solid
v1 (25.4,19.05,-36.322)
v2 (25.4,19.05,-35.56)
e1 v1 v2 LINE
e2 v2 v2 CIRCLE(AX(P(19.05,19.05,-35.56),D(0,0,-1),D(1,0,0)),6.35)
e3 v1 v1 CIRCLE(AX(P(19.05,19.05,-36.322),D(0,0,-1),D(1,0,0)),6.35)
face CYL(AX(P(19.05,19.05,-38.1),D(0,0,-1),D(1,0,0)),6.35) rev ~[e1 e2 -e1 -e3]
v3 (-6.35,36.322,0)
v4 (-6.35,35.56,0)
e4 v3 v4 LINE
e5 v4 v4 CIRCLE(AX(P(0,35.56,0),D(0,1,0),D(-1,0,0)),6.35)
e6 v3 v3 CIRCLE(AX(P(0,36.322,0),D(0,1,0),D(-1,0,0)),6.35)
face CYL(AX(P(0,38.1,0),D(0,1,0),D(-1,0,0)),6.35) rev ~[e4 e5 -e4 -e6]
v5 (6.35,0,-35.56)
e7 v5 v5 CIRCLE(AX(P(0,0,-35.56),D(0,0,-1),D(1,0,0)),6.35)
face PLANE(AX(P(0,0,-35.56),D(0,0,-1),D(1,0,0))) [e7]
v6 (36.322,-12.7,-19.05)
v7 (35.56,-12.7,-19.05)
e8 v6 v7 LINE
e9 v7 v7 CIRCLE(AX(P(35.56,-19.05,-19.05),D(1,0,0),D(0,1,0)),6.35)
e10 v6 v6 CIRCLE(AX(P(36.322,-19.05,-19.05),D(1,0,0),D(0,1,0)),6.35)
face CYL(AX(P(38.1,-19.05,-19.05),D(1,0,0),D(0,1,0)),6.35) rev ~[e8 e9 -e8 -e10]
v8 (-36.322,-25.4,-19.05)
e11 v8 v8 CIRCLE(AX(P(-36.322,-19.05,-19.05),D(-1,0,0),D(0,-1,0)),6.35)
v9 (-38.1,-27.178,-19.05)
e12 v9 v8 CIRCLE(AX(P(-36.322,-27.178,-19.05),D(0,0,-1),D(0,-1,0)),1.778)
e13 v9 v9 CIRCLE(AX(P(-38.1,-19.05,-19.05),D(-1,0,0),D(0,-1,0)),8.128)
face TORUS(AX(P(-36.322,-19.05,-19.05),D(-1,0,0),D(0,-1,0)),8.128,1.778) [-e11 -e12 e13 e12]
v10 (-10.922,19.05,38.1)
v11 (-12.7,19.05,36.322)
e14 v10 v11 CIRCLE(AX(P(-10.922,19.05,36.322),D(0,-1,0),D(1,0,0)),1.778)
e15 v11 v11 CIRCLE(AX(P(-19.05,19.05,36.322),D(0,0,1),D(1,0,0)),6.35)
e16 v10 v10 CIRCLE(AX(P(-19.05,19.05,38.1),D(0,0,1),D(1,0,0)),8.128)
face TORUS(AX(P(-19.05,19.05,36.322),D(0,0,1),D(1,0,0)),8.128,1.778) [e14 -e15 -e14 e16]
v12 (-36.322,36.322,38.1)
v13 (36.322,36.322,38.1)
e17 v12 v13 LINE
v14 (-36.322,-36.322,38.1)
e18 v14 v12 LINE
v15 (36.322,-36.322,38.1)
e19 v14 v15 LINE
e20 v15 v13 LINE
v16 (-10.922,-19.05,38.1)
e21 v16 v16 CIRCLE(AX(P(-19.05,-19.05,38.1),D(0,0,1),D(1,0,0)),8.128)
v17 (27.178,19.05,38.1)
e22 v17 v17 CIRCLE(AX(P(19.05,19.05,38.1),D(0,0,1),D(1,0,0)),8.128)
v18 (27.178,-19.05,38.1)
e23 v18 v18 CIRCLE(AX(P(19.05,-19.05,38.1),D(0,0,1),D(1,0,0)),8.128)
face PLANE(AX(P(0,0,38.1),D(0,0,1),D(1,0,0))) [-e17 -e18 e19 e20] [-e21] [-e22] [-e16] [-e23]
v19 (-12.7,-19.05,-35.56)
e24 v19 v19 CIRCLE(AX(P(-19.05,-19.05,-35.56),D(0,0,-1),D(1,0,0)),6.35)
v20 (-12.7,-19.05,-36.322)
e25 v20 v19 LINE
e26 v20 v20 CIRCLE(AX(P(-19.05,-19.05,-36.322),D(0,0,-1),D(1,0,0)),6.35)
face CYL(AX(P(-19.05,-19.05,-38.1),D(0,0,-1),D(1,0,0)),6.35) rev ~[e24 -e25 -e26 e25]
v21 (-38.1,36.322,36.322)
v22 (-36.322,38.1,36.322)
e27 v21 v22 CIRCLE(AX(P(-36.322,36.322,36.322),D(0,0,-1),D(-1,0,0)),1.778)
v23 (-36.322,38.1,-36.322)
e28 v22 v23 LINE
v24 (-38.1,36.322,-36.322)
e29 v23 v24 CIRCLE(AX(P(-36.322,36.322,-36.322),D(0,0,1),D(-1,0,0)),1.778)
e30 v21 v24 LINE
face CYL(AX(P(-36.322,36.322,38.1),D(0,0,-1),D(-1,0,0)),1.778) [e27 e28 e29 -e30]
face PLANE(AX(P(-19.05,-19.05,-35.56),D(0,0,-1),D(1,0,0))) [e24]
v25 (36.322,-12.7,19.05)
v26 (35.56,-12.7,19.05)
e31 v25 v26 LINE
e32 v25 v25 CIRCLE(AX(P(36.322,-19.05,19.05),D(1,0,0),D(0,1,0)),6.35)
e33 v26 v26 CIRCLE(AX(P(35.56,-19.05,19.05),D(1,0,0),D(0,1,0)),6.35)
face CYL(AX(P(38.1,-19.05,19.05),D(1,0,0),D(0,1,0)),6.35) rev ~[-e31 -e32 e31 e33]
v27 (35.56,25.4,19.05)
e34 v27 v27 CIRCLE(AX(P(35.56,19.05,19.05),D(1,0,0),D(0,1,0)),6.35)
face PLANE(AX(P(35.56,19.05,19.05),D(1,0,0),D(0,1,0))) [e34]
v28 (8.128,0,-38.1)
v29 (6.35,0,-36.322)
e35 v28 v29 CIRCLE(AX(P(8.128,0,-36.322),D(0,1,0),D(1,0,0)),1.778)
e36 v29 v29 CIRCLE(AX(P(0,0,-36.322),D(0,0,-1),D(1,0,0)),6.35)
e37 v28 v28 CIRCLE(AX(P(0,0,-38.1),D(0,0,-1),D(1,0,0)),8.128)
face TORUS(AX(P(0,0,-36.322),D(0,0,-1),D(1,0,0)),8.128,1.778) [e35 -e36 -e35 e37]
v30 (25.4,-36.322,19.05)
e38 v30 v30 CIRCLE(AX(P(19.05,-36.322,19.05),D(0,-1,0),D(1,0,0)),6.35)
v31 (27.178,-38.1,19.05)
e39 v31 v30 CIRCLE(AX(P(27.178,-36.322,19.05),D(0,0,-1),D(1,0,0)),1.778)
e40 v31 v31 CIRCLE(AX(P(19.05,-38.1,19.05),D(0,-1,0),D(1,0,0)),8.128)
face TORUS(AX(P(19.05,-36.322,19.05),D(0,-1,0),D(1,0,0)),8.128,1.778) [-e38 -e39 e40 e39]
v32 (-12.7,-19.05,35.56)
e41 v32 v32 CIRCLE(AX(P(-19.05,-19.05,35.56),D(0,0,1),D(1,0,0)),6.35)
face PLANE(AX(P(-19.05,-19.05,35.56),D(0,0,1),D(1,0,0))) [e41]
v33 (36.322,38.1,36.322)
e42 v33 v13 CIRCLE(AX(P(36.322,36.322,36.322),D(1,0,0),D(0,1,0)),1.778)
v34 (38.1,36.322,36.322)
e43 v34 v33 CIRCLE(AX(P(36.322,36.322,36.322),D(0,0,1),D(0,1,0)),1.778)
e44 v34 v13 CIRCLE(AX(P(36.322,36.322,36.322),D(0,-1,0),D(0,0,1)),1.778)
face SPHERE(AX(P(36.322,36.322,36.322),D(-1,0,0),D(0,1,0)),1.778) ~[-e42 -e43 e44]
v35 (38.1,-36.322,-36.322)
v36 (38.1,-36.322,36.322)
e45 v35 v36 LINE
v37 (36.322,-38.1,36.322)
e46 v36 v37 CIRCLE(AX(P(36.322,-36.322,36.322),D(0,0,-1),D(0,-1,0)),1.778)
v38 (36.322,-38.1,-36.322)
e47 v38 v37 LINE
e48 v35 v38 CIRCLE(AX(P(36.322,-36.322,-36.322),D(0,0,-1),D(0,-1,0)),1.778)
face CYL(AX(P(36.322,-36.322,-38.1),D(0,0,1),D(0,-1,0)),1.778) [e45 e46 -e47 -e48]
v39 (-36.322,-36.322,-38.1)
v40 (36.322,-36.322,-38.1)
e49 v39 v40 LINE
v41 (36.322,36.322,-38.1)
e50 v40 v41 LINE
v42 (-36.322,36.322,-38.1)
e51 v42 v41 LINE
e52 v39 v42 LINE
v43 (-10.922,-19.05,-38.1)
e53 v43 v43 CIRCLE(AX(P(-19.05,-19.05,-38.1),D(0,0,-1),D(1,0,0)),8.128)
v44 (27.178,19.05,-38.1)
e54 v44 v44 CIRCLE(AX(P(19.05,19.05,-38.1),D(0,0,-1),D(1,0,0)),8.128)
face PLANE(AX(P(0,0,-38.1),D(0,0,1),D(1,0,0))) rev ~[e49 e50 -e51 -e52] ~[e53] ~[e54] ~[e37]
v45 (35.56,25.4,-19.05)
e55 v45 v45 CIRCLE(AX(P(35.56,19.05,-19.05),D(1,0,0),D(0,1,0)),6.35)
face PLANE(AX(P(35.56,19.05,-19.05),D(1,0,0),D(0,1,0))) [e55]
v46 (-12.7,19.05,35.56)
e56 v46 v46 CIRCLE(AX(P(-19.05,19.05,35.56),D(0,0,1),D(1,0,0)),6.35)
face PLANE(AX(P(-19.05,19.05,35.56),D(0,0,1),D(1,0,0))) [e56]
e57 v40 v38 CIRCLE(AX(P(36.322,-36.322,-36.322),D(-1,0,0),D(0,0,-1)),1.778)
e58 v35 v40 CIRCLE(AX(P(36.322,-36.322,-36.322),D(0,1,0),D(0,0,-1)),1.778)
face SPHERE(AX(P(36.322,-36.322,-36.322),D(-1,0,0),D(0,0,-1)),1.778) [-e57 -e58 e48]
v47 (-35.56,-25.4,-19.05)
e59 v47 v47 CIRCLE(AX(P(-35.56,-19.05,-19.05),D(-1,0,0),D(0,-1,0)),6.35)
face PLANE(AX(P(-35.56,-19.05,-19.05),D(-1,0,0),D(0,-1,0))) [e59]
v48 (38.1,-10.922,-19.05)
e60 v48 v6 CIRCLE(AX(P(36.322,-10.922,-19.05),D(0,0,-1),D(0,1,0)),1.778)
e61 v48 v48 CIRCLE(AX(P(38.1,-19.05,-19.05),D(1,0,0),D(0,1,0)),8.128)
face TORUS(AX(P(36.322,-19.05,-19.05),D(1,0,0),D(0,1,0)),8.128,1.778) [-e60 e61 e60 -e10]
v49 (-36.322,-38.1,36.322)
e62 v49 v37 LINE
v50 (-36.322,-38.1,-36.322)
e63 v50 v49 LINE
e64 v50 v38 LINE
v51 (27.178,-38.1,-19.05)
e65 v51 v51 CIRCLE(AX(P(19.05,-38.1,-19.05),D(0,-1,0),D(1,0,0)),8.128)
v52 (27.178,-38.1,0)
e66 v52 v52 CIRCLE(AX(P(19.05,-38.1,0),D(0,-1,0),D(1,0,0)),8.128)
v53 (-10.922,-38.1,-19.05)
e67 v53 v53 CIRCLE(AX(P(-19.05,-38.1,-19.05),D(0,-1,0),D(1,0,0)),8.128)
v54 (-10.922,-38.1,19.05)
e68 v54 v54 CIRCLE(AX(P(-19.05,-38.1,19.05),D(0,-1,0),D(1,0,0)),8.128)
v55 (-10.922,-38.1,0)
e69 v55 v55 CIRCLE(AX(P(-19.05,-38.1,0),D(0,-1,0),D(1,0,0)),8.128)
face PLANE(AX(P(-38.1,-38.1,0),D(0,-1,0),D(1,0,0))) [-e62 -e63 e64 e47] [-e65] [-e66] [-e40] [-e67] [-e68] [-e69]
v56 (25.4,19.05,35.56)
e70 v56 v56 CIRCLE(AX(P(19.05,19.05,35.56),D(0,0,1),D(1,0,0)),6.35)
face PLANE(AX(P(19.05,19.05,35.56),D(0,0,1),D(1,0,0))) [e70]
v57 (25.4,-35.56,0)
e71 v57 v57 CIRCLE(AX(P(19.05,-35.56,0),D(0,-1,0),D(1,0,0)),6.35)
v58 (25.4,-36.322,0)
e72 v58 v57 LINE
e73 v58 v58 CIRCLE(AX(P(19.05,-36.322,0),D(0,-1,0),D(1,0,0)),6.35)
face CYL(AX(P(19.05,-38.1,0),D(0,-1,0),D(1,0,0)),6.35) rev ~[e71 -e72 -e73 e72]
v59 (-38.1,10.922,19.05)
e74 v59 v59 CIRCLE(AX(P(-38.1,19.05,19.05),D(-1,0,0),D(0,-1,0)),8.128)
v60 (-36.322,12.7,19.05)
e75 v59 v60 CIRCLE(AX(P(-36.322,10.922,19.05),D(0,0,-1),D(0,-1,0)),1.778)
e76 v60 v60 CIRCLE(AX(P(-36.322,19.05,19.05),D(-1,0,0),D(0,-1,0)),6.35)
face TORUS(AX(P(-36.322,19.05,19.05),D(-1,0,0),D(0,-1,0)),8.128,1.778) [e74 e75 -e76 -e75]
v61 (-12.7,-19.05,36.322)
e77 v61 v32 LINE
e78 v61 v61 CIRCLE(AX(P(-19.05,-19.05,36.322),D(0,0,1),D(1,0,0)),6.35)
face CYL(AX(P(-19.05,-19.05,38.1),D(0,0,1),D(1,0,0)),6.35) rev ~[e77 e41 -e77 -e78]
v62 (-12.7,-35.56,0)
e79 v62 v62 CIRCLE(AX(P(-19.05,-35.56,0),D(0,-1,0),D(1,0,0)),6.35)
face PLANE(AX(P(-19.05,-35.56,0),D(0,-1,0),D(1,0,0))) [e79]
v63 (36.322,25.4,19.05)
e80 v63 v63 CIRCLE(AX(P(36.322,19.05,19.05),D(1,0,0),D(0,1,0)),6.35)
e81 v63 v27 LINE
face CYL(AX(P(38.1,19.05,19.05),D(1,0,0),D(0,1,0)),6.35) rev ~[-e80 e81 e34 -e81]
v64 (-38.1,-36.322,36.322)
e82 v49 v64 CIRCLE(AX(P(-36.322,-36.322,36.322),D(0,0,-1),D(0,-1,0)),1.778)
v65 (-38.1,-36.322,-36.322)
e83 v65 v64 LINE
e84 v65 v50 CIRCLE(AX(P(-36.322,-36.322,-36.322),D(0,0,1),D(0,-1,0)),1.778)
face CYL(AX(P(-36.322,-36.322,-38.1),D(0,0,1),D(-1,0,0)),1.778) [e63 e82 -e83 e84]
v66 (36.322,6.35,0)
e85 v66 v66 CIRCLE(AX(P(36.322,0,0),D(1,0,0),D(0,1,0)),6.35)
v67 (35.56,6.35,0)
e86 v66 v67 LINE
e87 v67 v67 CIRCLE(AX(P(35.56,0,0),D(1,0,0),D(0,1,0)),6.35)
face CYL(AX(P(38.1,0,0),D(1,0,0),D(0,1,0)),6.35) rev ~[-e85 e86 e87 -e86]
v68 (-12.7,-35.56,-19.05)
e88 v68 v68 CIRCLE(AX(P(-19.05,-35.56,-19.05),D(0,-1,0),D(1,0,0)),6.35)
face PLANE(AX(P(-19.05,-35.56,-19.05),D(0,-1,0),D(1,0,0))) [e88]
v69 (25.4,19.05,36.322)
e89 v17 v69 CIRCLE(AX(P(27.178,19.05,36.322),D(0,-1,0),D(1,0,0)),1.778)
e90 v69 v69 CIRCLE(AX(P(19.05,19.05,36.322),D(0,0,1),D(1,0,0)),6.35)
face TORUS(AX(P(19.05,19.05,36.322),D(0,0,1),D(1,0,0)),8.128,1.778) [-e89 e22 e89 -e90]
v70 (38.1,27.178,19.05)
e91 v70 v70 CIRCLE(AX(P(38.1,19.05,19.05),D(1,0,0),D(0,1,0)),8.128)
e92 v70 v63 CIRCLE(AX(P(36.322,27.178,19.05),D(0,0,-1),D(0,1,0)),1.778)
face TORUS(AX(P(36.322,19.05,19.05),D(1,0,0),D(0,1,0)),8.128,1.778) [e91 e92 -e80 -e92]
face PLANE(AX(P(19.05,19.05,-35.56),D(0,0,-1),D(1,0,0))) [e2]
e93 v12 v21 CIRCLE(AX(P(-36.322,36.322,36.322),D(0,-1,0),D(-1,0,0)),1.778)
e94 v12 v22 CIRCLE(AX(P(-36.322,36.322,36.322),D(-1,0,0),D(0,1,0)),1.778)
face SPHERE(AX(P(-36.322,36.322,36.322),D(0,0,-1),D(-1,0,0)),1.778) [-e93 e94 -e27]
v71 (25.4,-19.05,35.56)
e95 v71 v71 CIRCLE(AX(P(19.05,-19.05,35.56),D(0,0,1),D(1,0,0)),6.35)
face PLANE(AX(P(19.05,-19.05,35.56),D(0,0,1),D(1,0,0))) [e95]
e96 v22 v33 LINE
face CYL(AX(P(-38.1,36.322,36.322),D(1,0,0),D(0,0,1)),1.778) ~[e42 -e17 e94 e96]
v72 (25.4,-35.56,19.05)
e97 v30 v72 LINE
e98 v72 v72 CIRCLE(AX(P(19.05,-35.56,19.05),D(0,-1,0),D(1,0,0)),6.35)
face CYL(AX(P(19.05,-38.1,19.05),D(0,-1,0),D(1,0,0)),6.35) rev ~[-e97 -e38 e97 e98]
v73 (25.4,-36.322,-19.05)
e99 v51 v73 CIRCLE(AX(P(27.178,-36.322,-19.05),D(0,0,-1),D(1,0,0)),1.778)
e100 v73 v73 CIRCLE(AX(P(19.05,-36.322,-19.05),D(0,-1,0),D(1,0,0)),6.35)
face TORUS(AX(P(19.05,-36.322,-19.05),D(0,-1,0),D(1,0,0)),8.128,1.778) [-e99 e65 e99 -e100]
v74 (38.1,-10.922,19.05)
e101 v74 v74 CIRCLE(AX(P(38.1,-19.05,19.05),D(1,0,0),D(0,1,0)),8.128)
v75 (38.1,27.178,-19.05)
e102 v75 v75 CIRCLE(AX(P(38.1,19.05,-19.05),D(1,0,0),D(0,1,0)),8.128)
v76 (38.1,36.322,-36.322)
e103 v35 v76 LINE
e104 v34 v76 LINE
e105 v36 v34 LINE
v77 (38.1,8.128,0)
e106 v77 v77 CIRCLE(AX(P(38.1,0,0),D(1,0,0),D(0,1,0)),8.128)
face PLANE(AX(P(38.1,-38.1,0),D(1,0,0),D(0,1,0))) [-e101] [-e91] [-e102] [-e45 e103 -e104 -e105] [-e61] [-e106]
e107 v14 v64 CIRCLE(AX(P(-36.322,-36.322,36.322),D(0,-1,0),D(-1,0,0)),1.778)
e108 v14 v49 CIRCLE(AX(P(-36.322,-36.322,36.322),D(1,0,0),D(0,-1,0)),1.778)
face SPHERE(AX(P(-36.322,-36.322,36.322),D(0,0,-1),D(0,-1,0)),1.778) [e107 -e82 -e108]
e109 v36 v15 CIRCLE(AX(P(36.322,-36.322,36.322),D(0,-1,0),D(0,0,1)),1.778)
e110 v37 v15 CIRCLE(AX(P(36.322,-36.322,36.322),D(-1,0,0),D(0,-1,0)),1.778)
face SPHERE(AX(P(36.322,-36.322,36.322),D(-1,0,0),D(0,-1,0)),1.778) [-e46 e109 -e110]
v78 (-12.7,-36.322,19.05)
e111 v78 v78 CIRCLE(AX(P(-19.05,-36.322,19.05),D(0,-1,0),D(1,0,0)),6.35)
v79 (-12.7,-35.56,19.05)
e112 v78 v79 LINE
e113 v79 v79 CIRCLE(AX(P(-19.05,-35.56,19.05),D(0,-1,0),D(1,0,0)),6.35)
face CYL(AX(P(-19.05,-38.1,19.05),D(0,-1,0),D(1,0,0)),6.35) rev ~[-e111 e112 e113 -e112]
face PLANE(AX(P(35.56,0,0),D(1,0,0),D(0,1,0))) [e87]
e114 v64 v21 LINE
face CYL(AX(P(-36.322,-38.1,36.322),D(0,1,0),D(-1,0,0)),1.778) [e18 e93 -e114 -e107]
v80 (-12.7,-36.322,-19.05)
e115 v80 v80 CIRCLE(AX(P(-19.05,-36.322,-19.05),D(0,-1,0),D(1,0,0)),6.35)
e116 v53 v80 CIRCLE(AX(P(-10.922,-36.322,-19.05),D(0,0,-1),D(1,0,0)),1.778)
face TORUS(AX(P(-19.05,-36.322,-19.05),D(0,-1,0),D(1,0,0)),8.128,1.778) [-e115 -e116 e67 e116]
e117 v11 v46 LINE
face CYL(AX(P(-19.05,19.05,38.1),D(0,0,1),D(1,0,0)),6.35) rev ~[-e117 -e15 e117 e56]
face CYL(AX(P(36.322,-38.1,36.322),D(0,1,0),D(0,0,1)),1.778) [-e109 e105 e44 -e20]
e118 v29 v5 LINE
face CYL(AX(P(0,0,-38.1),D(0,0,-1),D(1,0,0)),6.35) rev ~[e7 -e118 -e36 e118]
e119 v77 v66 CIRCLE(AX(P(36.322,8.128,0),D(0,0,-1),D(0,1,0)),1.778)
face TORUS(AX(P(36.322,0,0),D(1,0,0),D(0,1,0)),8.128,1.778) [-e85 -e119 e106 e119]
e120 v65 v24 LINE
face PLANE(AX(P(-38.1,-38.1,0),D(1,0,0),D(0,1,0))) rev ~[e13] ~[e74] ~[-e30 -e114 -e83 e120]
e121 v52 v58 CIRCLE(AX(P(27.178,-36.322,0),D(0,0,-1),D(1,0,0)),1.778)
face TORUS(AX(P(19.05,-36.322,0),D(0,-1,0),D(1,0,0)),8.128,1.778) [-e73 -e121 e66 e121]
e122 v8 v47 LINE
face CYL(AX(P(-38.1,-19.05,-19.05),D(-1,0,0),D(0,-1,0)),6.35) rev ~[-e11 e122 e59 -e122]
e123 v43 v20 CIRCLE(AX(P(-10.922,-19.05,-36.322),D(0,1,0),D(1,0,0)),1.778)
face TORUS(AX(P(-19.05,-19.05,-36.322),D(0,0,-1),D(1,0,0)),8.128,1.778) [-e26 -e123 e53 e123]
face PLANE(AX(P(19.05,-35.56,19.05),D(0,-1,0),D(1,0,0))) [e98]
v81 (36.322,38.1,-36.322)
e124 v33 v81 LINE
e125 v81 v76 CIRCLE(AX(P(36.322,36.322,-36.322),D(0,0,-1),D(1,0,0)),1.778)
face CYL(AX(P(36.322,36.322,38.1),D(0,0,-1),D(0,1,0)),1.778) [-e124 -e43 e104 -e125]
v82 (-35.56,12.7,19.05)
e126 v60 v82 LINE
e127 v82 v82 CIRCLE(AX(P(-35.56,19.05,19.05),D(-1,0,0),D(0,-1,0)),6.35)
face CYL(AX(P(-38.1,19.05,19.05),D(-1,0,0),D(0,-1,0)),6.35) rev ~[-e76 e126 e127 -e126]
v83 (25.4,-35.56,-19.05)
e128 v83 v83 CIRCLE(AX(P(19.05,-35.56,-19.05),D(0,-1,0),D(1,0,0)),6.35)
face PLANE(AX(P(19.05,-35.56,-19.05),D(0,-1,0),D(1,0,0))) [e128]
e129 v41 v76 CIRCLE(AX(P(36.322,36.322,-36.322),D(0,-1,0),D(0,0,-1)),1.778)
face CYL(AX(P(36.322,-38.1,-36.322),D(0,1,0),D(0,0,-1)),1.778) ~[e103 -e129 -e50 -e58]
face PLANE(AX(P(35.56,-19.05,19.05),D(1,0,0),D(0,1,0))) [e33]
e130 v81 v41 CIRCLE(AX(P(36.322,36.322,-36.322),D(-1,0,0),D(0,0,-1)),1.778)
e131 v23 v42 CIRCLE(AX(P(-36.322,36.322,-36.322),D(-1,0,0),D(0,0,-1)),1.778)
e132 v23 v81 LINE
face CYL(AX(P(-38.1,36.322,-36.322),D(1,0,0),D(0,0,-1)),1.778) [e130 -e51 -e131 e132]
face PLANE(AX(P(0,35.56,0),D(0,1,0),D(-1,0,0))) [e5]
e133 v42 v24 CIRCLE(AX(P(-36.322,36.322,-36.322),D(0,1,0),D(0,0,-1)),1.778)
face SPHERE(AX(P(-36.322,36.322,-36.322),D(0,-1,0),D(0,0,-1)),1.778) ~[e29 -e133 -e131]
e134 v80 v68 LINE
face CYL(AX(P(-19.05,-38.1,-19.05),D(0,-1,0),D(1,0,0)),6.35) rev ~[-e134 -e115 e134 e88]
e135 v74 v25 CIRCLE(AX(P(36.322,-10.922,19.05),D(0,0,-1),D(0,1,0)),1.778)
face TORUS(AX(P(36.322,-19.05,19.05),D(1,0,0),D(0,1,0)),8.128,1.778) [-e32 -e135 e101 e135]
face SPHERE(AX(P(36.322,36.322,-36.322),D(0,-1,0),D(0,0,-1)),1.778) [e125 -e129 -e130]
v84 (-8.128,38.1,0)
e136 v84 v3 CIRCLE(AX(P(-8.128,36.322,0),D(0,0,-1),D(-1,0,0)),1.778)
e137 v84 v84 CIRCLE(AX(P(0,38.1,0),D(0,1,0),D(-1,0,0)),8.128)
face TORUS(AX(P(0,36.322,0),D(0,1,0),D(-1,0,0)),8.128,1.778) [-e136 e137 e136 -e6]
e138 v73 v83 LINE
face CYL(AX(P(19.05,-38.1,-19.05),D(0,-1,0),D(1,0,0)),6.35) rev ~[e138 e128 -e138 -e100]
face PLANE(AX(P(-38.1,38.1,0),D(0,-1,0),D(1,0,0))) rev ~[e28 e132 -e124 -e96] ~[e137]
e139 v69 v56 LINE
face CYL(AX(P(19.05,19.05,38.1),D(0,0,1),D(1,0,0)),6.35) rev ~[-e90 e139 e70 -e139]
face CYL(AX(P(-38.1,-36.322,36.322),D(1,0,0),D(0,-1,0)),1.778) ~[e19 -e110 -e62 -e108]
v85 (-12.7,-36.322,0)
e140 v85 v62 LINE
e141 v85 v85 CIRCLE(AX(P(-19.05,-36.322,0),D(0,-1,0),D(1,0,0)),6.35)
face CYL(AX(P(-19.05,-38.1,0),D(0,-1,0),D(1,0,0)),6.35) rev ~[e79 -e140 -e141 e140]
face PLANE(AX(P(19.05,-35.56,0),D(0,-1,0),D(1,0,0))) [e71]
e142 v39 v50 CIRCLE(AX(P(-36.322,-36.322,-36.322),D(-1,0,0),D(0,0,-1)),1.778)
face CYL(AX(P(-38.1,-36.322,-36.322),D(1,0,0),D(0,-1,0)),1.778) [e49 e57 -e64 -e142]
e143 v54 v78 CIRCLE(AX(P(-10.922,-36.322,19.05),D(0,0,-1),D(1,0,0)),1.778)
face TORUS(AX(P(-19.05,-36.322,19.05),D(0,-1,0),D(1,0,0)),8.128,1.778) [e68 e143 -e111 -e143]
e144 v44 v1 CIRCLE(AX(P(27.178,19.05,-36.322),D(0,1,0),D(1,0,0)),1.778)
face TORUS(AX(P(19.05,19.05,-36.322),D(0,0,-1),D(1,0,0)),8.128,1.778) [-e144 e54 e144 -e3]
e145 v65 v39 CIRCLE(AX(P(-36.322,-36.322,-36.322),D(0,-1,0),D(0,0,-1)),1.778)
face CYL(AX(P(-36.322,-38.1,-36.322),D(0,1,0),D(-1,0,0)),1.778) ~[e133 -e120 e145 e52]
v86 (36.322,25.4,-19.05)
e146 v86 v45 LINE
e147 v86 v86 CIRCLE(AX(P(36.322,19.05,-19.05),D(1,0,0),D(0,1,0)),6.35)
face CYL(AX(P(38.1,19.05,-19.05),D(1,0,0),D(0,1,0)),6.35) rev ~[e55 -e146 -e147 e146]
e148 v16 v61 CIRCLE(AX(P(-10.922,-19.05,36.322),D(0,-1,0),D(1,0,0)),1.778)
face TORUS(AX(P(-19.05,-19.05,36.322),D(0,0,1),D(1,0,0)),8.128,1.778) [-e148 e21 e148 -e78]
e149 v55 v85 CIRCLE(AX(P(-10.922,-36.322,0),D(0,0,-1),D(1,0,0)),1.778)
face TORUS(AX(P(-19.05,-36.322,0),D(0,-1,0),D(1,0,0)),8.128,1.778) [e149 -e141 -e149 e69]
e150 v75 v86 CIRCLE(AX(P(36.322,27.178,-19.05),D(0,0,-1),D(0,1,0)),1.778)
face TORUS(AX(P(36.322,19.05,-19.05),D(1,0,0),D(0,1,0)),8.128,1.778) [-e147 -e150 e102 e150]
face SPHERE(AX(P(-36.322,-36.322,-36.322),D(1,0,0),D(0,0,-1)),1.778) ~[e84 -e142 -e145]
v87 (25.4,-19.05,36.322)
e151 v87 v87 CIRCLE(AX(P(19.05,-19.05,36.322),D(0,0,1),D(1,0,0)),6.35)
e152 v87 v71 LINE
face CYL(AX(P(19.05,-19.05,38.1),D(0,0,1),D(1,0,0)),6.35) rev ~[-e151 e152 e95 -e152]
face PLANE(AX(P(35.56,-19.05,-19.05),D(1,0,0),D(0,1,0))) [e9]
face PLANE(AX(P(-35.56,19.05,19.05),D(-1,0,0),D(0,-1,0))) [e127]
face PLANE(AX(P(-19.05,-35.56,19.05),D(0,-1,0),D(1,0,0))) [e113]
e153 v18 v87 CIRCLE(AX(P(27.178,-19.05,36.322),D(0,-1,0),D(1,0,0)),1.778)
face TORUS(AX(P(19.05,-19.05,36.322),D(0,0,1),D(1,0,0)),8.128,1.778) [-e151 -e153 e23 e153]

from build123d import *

# Parameters (mm, degrees)
F0_W      = 76.2
F0_H      = 76.2
F1_DEPTH  = 38.1
F2_DEPTH  = 38.1
F8_R      = 6.35
F9_DEPTH  = 2.54
F7_R      = 6.35
F10_DEPTH = 2.54
F6_R      = 6.35
F11_DEPTH = 2.54
F5_R      = 6.35
F12_DEPTH = 2.54
F4_R      = 6.35
F13_DEPTH = 2.54
F3_R      = 6.35
F14_DEPTH = 2.54
F15_R     = 1.778


with BuildPart() as f1:
    # F0 (on Top) → F1 (new body)
    with BuildSketch(Plane.XY):
        Rectangle(F0_W, F0_H)
    extrude(amount=F1_DEPTH)

    # F0 (on Top) → F2 (join)
    with BuildSketch(Plane.XY):
        Rectangle(F0_W, F0_H)
    extrude(amount=-F2_DEPTH)

    # F8 (on face) → F9 (cut)
    with BuildSketch(Plane.XY.offset(38.1)):
        with Locations((-19.05, -19.05)):
            Circle(F8_R)
        with Locations((19.05, 19.05)):
            Circle(F8_R)
        with Locations((-19.05, 19.05)):
            Circle(F8_R)
        with Locations((19.05, -19.05)):
            Circle(F8_R)
    extrude(amount=-F9_DEPTH, mode=Mode.SUBTRACT)

    # F7 (on face) → F10 (cut)
    with BuildSketch(Plane(origin=(0, 0, -38.1), x_dir=(1, 0, 0), z_dir=(0, 0, -1))):
        Circle(F7_R)
        with Locations((-19.05, 19.05)):
            Circle(F7_R)
        with Locations((19.05, -19.05)):
            Circle(F7_R)
    extrude(amount=-F10_DEPTH, mode=Mode.SUBTRACT)

    # F6 (on face) → F11 (cut)
    with BuildSketch(Plane.YZ.offset(38.1)):
        with Locations((19.05, 19.05)):
            Circle(F6_R)
        with Locations((19.05, -19.05)):
            Circle(F6_R)
        Circle(F6_R)
        with Locations((-19.05, -19.05)):
            Circle(F6_R)
        with Locations((-19.05, 19.05)):
            Circle(F6_R)
    extrude(amount=-F11_DEPTH, mode=Mode.SUBTRACT)

    # F5 (on face) → F12 (cut)
    with BuildSketch(Plane(origin=(-38.1, 0, 0), x_dir=(0, -1, 0), z_dir=(-1, 0, 0))):
        with Locations((-19.05, 19.05)):
            Circle(F5_R)
        with Locations((19.05, -19.05)):
            Circle(F5_R)
    extrude(amount=-F12_DEPTH, mode=Mode.SUBTRACT)

    # F4 (on face) → F13 (cut)
    with BuildSketch(Plane(origin=(0, 38.1, 0), x_dir=(-1, 0, 0), z_dir=(0, 1, 0))):
        Circle(F4_R)
    extrude(amount=-F13_DEPTH, mode=Mode.SUBTRACT)

    # F3 (on face) → F14 (cut)
    with BuildSketch(Plane.XZ.offset(38.1)):
        with Locations((19.05, 19.05)):
            Circle(F3_R)
        with Locations((-19.05, 19.05)):
            Circle(F3_R)
        with Locations((-19.05, 0)):
            Circle(F3_R)
        with Locations((19.05, 0)):
            Circle(F3_R)
        with Locations((19.05, -19.05)):
            Circle(F3_R)
        with Locations((-19.05, -19.05)):
            Circle(F3_R)
    extrude(amount=-F14_DEPTH, mode=Mode.SUBTRACT)

    # F15
    f15_edges = [f1.edges().sort_by_distance(p)[0] for p in [
        (0, -38.1, -38.1),
        (-38.1, 0, -38.1),
        (38.1, 0, -38.1),
        (0, 38.1, -38.1),
        (-25.4, -19.05, -38.1),
        (-6.35, 0, -38.1),
        (12.7, 19.05, -38.1),
        (-38.1, -38.1, 0),
        (0, -38.1, 38.1),
        (38.1, -38.1, 0),
        (-25.4, -38.1, 19.05),
        (12.7, -38.1, 19.05),
        (-25.4, -38.1, 0),
        (-25.4, -38.1, -19.05),
        (12.7, -38.1, 0),
        (12.7, -38.1, -19.05),
        (-38.1, 38.1, 0),
        (-38.1, 0, 38.1),
        (-38.1, 25.4, 19.05),
        (-38.1, -12.7, -19.05),
        (0, 38.1, 38.1),
        (38.1, 38.1, 0),
        (6.35, 38.1, 0),
        (38.1, 0, 38.1),
        (38.1, -25.4, 19.05),
        (38.1, 12.7, 19.05),
        (38.1, -25.4, -19.05),
        (38.1, -6.35, 0),
        (38.1, 12.7, -19.05),
        (-25.4, -19.05, 38.1),
        (12.7, -19.05, 38.1),
        (-25.4, 19.05, 38.1),
        (12.7, 19.05, 38.1),
    ]]
    fillet(f15_edges, radius=F15_R)


solid = f1.part
